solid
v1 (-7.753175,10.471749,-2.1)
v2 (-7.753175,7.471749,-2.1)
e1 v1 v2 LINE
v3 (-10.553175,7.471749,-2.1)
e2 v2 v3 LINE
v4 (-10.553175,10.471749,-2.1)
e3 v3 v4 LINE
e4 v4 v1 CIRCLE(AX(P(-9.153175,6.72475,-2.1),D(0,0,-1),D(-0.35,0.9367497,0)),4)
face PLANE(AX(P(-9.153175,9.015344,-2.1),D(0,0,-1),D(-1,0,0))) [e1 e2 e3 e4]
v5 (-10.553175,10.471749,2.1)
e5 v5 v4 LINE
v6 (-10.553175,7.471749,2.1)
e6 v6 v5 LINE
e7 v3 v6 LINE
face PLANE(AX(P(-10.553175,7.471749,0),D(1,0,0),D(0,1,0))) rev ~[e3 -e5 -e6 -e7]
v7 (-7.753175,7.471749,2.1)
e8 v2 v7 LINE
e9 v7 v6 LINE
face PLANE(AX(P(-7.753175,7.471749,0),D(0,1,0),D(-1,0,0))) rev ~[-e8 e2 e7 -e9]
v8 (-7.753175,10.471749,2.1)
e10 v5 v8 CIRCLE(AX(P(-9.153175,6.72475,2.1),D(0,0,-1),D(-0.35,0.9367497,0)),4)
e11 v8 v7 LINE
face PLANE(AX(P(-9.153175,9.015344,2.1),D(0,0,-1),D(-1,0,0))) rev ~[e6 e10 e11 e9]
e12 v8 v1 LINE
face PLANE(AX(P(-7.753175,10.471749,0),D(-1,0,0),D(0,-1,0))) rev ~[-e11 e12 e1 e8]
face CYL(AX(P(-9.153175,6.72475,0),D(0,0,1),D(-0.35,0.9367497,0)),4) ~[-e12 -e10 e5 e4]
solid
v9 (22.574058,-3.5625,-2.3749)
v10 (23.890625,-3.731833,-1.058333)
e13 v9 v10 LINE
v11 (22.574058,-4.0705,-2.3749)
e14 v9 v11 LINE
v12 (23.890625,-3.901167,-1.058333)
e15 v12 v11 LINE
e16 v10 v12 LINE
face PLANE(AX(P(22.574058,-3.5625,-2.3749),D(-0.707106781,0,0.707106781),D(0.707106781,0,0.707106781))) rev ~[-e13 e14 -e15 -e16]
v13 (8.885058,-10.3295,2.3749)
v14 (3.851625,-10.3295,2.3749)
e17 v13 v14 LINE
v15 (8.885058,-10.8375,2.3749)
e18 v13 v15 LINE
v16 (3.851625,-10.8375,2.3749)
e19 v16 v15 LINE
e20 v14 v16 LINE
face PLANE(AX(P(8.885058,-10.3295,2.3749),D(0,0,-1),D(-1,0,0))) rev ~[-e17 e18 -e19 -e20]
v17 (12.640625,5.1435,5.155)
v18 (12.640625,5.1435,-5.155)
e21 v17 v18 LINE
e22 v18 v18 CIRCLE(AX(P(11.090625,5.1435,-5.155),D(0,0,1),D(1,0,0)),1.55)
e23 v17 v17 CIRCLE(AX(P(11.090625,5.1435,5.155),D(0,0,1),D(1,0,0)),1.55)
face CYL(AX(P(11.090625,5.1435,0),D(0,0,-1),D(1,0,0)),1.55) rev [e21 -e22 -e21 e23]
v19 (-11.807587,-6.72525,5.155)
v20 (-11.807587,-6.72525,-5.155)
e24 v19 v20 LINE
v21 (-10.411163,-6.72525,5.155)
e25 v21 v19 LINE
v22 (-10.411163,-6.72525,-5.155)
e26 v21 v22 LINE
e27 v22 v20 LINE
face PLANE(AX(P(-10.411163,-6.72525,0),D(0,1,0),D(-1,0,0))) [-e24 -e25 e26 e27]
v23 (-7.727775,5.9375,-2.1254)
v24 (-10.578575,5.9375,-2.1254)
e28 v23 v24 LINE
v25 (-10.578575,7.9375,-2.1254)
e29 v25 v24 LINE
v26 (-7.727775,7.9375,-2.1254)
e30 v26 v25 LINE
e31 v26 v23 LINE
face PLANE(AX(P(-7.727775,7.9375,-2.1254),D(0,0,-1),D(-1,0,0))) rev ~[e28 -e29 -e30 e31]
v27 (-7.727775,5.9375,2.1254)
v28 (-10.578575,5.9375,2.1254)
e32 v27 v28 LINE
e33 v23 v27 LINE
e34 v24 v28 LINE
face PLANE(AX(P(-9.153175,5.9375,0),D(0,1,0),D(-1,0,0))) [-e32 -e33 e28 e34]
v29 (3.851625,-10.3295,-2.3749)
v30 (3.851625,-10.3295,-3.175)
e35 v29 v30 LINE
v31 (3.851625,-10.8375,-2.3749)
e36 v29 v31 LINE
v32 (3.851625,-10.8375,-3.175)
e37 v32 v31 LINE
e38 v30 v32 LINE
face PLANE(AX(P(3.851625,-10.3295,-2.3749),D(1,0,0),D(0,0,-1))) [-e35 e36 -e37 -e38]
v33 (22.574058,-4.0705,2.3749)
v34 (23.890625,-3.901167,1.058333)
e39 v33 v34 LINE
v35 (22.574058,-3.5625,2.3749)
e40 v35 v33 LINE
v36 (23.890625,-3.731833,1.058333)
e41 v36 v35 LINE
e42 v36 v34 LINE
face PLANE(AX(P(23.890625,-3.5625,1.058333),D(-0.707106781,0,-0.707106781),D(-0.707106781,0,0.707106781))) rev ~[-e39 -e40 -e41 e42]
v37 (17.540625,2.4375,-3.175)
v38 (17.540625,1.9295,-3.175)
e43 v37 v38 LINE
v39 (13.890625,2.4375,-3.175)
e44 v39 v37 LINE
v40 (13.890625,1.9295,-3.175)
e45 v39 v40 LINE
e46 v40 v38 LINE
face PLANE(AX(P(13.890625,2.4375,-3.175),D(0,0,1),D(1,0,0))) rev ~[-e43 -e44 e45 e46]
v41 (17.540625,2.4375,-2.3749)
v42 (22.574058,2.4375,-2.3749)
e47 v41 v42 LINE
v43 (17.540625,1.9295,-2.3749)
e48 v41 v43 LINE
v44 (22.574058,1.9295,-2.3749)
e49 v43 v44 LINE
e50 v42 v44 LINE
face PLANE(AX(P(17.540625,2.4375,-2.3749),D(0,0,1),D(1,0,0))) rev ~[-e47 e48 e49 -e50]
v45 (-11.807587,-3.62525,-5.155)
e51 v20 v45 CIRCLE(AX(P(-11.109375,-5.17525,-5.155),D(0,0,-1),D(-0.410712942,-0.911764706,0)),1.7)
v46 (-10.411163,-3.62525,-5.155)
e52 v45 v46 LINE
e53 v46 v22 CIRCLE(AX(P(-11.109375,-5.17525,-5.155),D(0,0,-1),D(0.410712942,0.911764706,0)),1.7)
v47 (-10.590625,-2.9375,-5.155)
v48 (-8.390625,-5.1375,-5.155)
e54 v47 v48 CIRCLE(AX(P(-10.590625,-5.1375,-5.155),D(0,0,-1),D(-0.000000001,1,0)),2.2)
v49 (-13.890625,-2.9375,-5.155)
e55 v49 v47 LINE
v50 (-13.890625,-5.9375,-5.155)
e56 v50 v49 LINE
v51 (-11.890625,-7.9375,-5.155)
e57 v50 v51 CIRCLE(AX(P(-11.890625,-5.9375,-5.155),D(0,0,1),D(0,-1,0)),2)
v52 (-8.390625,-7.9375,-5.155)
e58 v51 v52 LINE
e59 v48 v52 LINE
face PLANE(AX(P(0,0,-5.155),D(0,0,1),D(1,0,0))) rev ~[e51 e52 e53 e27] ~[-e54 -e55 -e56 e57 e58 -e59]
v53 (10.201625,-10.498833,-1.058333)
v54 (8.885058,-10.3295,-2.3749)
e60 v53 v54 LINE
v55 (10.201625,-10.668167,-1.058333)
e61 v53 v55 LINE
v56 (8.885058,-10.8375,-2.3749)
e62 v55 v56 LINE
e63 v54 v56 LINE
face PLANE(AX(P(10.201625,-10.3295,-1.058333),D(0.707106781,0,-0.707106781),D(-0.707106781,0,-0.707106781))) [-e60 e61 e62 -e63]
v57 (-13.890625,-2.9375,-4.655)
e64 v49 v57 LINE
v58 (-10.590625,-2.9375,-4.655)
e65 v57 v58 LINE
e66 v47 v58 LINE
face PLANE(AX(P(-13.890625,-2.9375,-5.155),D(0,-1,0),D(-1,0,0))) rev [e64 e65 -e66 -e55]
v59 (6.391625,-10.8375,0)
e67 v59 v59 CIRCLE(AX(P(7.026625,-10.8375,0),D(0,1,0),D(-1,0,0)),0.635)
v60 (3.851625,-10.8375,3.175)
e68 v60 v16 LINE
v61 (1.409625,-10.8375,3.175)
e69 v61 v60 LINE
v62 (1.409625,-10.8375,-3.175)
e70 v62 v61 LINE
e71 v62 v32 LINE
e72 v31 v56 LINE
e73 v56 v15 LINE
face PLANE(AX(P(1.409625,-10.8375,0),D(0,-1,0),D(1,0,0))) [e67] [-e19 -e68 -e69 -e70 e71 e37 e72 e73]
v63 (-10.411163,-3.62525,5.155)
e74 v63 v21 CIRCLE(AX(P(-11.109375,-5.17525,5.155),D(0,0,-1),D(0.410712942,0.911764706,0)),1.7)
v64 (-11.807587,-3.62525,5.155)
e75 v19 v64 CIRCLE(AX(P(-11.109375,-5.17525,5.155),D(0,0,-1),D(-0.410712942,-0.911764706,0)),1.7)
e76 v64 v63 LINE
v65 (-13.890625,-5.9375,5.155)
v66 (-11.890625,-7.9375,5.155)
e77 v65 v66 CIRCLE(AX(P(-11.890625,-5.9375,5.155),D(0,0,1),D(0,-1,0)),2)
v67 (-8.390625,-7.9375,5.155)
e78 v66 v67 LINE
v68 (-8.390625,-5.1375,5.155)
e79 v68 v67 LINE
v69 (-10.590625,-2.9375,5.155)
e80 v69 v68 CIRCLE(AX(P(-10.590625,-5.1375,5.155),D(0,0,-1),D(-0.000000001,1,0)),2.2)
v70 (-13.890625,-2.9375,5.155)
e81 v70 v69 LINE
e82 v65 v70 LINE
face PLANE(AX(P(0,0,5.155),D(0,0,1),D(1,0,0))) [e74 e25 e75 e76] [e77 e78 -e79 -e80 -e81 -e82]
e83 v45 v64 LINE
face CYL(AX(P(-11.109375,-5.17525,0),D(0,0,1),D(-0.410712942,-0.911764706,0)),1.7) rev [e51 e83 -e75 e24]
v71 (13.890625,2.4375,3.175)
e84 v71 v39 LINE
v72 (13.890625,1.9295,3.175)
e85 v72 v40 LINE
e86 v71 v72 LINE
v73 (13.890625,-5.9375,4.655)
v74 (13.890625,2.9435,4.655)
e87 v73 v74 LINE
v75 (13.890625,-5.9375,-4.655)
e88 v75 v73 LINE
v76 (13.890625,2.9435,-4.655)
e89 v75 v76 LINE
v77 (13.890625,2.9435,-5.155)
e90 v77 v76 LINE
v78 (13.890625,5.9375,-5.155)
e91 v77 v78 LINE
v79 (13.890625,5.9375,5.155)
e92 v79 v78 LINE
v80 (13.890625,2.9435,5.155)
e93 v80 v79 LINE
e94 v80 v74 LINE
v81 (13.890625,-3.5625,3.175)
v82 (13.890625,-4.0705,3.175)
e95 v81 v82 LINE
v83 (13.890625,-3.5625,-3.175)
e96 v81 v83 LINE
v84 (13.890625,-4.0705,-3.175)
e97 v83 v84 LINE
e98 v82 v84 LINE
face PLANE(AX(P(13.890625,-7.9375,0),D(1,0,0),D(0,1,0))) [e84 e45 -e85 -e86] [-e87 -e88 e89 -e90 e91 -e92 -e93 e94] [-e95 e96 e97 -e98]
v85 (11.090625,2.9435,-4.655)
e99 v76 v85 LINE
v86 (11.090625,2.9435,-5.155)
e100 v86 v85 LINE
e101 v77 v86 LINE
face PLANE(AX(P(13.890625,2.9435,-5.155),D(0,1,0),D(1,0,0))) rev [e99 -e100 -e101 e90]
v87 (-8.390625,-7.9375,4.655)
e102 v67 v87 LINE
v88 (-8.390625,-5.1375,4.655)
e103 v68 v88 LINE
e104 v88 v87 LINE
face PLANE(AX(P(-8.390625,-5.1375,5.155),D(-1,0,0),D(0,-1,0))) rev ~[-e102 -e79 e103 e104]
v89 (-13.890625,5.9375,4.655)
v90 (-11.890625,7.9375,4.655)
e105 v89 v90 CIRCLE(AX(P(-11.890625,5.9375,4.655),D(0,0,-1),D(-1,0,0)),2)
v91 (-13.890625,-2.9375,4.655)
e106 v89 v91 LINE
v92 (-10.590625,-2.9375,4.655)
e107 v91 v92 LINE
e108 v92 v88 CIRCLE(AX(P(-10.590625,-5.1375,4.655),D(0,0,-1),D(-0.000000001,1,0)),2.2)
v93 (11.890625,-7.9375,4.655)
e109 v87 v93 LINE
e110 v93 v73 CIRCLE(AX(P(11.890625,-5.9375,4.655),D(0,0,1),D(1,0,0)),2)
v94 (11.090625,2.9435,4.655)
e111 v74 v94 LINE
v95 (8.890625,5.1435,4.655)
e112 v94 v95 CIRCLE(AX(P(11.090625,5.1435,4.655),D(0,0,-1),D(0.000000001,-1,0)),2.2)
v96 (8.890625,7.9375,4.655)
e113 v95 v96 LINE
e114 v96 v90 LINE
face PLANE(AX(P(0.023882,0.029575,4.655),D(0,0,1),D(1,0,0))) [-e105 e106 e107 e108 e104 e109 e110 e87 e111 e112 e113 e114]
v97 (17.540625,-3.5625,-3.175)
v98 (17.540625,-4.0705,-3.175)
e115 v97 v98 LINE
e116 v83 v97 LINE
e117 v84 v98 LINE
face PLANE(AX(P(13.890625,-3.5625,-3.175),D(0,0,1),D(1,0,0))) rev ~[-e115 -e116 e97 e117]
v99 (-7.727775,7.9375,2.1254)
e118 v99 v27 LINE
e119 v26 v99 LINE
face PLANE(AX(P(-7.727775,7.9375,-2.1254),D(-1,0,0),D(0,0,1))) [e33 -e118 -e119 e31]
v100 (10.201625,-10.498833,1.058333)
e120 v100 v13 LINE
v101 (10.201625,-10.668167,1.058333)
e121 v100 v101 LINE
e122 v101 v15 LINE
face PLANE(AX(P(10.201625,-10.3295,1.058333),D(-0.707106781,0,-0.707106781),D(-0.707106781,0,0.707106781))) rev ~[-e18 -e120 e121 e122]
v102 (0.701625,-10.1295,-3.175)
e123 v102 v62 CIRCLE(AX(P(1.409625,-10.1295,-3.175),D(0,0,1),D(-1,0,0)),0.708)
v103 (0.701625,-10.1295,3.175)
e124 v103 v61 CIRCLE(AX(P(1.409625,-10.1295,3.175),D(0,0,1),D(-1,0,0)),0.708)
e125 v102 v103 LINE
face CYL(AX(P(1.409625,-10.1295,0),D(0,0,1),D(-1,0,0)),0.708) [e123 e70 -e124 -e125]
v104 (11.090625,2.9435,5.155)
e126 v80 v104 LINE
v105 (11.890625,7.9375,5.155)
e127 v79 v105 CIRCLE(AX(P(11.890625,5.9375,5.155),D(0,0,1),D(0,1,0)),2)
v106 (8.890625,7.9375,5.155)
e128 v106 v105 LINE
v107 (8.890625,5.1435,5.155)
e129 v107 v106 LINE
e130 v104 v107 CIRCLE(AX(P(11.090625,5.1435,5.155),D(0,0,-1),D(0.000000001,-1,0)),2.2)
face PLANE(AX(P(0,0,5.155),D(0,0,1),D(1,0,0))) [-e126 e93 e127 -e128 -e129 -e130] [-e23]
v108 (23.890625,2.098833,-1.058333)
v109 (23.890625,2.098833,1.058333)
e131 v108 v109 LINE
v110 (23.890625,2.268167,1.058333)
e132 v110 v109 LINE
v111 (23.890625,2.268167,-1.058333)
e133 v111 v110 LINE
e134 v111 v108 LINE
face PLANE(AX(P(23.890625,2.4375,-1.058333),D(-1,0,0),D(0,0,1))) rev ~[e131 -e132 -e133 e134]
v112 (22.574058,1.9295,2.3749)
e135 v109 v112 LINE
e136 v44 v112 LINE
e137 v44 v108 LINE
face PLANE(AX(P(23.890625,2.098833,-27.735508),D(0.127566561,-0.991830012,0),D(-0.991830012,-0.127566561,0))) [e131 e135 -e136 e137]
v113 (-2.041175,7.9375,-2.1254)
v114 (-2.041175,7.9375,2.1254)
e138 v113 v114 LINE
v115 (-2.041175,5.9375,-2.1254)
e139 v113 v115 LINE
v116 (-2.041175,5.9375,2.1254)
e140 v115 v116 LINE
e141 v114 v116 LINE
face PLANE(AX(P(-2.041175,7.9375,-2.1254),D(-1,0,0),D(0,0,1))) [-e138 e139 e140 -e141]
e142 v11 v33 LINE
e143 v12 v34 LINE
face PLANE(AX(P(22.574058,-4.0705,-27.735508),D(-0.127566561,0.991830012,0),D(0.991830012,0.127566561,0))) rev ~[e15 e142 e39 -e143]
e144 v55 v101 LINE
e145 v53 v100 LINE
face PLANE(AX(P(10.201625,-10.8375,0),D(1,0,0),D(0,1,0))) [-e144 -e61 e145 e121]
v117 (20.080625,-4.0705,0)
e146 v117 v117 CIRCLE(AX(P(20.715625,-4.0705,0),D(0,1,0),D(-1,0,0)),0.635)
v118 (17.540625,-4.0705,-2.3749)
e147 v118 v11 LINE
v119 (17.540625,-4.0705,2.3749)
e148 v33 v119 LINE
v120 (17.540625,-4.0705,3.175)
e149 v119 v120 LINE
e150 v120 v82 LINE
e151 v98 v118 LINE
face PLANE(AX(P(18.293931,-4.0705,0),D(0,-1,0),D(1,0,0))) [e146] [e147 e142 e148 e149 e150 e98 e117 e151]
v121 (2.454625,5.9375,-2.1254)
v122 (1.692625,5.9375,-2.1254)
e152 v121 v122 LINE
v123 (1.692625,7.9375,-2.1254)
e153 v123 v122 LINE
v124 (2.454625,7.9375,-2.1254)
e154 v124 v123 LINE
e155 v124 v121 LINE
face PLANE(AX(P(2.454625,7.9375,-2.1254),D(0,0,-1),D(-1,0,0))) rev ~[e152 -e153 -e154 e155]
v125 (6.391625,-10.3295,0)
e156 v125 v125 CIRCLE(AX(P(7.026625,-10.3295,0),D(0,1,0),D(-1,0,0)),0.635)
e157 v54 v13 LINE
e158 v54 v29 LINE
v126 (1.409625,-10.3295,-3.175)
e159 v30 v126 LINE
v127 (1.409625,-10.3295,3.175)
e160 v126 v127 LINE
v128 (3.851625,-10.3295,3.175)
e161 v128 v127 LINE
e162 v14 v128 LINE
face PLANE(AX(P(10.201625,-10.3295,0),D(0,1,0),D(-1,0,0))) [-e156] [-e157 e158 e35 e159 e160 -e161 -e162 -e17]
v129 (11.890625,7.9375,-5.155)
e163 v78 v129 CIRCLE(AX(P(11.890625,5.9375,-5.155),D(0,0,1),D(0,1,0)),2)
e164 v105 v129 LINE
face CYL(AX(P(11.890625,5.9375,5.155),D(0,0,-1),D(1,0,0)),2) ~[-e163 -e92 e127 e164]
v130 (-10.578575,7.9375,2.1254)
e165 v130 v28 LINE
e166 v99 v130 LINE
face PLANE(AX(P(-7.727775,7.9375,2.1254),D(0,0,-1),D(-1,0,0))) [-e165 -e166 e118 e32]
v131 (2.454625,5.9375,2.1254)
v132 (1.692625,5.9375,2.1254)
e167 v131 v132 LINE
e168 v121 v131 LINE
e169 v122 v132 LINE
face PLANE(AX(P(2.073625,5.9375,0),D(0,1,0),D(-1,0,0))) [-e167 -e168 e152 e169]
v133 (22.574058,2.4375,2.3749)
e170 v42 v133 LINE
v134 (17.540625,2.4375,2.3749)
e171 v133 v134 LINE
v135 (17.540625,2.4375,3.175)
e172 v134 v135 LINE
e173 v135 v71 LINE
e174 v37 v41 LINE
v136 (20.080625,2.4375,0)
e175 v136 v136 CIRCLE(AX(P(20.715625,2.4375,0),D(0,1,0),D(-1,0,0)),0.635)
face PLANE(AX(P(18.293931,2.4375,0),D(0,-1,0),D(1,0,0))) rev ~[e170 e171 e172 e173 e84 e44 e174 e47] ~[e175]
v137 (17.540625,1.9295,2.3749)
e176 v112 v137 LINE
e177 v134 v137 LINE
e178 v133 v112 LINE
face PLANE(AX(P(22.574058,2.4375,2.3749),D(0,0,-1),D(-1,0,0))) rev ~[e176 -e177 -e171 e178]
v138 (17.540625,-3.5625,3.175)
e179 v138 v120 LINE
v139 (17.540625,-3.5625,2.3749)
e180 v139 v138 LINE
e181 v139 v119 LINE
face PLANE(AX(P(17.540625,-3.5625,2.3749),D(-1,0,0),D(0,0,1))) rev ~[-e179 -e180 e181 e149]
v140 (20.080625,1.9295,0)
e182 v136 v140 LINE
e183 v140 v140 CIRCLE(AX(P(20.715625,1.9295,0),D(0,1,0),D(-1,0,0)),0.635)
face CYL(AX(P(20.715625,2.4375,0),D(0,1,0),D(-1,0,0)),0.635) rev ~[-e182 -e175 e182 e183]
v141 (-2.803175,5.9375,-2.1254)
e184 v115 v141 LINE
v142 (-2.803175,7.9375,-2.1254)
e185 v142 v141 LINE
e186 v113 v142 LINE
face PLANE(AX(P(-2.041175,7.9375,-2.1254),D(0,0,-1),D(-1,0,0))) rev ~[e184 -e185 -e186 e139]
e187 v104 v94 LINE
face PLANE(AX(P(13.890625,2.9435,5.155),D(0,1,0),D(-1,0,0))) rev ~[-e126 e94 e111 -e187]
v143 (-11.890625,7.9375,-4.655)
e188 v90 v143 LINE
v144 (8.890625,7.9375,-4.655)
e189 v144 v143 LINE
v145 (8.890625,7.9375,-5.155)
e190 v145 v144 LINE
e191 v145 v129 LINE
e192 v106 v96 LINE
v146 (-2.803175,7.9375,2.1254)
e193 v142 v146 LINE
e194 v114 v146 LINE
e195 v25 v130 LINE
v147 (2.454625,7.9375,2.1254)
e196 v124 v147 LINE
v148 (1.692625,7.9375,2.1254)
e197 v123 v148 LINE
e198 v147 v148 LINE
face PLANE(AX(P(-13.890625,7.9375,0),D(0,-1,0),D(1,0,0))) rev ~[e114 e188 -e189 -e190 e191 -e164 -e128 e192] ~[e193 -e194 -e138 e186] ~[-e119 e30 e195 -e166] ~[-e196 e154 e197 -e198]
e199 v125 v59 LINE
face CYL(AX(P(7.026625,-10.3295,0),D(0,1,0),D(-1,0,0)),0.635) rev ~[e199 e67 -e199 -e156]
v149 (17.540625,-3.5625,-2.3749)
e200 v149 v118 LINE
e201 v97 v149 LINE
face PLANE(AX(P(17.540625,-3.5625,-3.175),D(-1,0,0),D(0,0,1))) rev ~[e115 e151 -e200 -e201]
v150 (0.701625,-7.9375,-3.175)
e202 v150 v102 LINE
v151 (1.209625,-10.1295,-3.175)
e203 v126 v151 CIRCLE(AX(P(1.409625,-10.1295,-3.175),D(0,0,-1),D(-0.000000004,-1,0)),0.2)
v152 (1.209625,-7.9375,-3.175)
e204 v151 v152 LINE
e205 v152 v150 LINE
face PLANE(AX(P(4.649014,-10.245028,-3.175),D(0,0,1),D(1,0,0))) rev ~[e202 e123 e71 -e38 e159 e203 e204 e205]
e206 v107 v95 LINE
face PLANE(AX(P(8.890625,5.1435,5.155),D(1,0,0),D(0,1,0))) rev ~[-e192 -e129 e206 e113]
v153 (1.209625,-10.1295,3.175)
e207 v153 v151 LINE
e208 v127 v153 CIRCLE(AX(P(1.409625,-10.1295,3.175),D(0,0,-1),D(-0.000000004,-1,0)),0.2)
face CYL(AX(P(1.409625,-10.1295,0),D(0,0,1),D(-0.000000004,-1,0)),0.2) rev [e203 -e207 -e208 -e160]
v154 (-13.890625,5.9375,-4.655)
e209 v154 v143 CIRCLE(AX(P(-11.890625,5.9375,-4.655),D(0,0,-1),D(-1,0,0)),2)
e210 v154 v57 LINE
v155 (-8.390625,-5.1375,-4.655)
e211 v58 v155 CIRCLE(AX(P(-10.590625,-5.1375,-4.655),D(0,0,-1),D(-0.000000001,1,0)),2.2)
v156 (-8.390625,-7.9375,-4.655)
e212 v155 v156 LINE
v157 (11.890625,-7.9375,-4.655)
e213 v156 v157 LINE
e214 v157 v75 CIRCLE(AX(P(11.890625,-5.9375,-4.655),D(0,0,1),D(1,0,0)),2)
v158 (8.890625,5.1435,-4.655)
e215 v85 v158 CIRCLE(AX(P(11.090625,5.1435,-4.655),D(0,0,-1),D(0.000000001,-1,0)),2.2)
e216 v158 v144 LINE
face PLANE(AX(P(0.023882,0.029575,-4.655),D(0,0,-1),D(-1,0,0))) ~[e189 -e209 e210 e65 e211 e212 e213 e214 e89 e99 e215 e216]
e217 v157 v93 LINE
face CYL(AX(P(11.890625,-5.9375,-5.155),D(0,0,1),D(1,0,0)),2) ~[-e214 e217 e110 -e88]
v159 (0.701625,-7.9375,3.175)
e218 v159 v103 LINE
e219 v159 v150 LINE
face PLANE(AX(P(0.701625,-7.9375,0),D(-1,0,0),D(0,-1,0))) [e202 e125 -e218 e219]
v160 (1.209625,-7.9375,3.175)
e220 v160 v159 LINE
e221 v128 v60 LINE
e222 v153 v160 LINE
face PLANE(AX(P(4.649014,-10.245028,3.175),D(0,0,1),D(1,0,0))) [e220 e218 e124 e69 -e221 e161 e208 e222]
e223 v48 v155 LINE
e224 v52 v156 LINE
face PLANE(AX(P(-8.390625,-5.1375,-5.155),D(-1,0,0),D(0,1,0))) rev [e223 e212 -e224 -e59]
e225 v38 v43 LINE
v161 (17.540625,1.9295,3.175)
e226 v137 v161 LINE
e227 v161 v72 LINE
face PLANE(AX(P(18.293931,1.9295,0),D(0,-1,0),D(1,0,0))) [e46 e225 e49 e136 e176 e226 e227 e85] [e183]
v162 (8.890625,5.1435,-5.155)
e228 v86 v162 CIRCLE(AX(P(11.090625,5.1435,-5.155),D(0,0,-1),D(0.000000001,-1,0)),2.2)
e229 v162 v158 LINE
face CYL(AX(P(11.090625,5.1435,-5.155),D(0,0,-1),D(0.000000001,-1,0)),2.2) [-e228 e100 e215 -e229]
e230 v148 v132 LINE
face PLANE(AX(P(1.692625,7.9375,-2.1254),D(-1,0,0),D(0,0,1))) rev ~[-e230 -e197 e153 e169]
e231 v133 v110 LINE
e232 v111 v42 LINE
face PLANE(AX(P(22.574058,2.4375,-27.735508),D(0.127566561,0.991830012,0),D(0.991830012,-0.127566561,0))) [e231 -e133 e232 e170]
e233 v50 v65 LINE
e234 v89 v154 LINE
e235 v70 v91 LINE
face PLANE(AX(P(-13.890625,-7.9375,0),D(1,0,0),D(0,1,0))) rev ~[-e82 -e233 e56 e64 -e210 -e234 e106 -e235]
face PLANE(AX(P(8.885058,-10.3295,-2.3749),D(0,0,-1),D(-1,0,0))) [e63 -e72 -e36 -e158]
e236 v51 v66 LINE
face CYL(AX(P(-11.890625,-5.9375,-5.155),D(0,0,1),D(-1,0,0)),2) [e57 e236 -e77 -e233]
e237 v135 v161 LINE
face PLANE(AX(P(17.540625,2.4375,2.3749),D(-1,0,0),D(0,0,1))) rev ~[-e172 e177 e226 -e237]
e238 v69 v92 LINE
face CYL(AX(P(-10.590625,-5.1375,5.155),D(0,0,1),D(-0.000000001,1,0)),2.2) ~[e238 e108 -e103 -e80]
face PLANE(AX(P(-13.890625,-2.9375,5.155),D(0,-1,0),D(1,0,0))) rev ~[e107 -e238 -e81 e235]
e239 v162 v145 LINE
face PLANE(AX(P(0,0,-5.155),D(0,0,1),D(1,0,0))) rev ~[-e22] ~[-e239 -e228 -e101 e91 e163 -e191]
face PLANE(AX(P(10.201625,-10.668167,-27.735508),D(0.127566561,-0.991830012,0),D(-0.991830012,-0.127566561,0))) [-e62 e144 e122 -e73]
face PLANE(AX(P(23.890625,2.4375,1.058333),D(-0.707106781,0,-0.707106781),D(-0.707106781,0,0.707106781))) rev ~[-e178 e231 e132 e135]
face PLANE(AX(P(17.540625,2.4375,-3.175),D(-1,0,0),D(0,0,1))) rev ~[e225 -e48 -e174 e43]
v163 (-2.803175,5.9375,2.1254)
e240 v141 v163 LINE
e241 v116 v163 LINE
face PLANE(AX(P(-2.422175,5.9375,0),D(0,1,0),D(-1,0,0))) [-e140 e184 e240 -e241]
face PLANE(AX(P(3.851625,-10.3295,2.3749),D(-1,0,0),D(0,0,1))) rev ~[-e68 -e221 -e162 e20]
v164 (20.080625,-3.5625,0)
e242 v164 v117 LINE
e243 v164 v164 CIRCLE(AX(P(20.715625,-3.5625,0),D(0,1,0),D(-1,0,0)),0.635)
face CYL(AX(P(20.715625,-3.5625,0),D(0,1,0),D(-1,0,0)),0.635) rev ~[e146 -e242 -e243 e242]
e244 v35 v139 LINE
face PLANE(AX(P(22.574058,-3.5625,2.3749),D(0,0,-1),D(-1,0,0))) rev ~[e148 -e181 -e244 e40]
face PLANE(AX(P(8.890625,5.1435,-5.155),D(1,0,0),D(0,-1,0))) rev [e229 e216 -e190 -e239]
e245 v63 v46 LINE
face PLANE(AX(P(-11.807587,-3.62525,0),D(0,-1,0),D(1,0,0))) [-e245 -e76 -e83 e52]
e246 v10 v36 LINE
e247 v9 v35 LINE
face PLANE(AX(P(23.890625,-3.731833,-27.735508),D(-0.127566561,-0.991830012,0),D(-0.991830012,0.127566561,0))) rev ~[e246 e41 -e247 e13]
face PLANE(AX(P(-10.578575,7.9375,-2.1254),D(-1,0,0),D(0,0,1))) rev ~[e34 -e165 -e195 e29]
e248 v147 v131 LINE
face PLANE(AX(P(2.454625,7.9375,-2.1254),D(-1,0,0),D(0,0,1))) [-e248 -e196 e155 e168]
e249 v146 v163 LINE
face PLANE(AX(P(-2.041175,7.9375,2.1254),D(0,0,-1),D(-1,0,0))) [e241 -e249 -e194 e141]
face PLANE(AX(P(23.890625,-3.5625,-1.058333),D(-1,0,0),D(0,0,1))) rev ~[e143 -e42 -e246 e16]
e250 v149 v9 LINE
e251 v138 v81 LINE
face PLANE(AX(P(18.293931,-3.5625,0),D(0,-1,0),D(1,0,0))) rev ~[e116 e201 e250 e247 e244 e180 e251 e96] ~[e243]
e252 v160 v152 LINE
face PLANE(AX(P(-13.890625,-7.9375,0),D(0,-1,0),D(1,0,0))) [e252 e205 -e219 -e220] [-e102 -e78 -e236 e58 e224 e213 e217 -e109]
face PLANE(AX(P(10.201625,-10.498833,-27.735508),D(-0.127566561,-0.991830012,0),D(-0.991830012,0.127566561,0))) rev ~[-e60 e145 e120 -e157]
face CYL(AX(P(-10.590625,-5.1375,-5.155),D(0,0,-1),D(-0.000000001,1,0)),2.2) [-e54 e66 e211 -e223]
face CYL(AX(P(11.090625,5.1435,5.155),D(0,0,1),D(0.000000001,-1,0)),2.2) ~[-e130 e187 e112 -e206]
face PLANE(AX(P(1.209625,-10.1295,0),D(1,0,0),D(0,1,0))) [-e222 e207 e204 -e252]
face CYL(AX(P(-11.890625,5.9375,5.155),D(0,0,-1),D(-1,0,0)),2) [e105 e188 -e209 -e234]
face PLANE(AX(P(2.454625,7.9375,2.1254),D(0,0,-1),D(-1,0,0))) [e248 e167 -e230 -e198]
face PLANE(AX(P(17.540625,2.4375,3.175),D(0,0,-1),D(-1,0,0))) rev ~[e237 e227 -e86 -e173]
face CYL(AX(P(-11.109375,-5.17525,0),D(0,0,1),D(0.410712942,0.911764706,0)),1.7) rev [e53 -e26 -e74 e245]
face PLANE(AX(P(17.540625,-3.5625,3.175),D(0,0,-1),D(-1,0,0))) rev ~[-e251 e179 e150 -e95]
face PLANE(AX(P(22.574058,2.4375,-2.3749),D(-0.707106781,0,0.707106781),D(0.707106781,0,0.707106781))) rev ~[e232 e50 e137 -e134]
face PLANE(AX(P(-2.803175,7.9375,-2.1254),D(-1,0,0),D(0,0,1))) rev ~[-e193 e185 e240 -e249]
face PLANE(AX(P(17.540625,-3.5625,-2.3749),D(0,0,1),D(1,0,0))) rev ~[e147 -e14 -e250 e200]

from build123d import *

# Parameters (mm, degrees)
SKETCH1_W               = 27.78125
SKETCH1_H               = 15.875
SKETCH1_R               = 1.55
EXTRUDE1_DEPTH          = 5.155
FILLET1_R               = 2
EXTRUDE2_DEPTH          = 2.1
SKETCH3_W               = 2.8508
SKETCH3_H               = 4.2508
SKETCH3_W_2             = 0.762
CUT_EXTRUDE1_DEPTH      = 2
CUT_EXTRUDE2_DEPTH      = 0.5
EXTRUDE3_DEPTH          = 3.175
SKETCH6_R               = 0.635
CUT_EXTRUDE3_DEPTH      = 26.744998173
EXTRUDE4_START          = -5.5
SKETCH8_R               = 0.635
EXTRUDE4_DEPTH          = 0.508
LPATTERN1_COUNT         = 2
LPATTERN1_PITCH         = 6
CUT_EXTRUDE4_DEPTH      = 27.735508115
CUT_EXTRUDE4_DEPTH_BACK = 27.735508115


with BuildPart() as part:
    # Sketch1 → Extrude1 (new, symmetric)
    with BuildSketch(Plane.XY):
        Rectangle(SKETCH1_W, SKETCH1_H)
        with Locations((11.090625, 5.1435)):
            Circle(SKETCH1_R, mode=Mode.SUBTRACT)
        with BuildLine():
            Line((-11.807587002, -3.62525), (-10.411162998, -3.62525))
            ThreePointArc((-10.411162998, -3.62525), (-9.409375, -5.17525), (-10.411162998, -6.72525))
            Line((-10.411162998, -6.72525), (-11.807587002, -6.72525))
            ThreePointArc((-11.807587002, -6.72525), (-12.809375, -5.17525), (-11.807587002, -3.62525))
        make_face(mode=Mode.SUBTRACT)
    extrude(amount=EXTRUDE1_DEPTH, both=True)

    # Fillet1
    fillet1_edges = [part.edges().sort_by_distance(p)[0] for p in [
        (-13.890625, 7.9375, 0),
        (13.890625, 7.9375, 0),
        (13.890625, -7.9375, 0),
        (-13.890625, -7.9375, 0),
    ]]
    fillet(fillet1_edges, radius=FILLET1_R)

    # Sketch3 → Cut-Extrude1 (cut)
    with BuildSketch(Plane(origin=(0, 7.9375, 0), x_dir=(-1, 0, 0), z_dir=(0, 1, 0))):
        with Locations((9.153175, 0)):
            Rectangle(SKETCH3_W, SKETCH3_H)
        with Locations((2.422175, 0)):
            Rectangle(SKETCH3_W_2, SKETCH3_H)
        with Locations((-2.073625, 0)):
            Rectangle(SKETCH3_W_2, SKETCH3_H)
    extrude(amount=-CUT_EXTRUDE1_DEPTH, mode=Mode.SUBTRACT)

    # Sketch4 → Cut-Extrude2 (cut)
    with BuildSketch(Plane.XY.offset(5.155)):
        with BuildLine():
            Line((-8.390625, -7.9375), (13.890625, -7.9375))
            Line((13.890625, -7.9375), (13.890625, 2.9435))
            Line((13.890625, 2.9435), (11.090625, 2.9435))
            ThreePointArc((11.090625, 2.9435), (9.534990081, 3.587865081), (8.890625, 5.1435))
            Line((8.890625, 5.1435), (8.890625, 7.9375))
            Line((8.890625, 7.9375), (-13.890625, 7.9375))
            Line((-13.890625, 7.9375), (-13.890625, -2.9375))
            Line((-13.890625, -2.9375), (-10.590625, -2.9375))
            ThreePointArc((-10.590625, -2.9375), (-9.034990081, -3.581865081), (-8.390625, -5.1375))
            Line((-8.390625, -5.1375), (-8.390625, -7.9375))
        make_face()
    cut_extrude2 = extrude(amount=-CUT_EXTRUDE2_DEPTH, mode=Mode.SUBTRACT)

    # Mirror1: Cut-Extrude2 across plane
    add(cut_extrude2.mirror(Plane.XY), mode=Mode.SUBTRACT)

    # Sketch5 → Extrude3 (add, symmetric)
    with BuildSketch(Plane.XY):
        with BuildLine():
            Line((0.701625, -7.9375), (0.701625, -10.1295))
            ThreePointArc((0.701625, -10.1295), (0.908993399, -10.630131601), (1.409625, -10.8375))
            Line((1.409625, -10.8375), (10.201625, -10.8375))
            Line((10.201625, -10.8375), (10.201625, -10.3295))
            Line((10.201625, -10.3295), (1.409625, -10.3295))
            ThreePointArc((1.409625, -10.3295), (1.268203644, -10.270921356), (1.209625, -10.1295))
            Line((1.209625, -10.1295), (1.209625, -7.9375))
            Line((1.209625, -7.9375), (0.701625, -7.9375))
        make_face()
    extrude(amount=EXTRUDE3_DEPTH, both=True)

    # Sketch6 → Cut-Extrude3 (cut, through all)
    with BuildSketch(Plane(origin=(0, -10.3295, 0), x_dir=(-1, 0, 0), z_dir=(0, 1, 0))):
        with Locations((-7.026625, 0)):
            Circle(SKETCH6_R)
        Polygon((-10.201625, 1.058333333), (-8.885058333, 2.3749), (-3.851625, 2.3749), (-3.851625, 3.175), (-10.201625, 3.175), align=None)
        Polygon((-10.201625, -3.175), (-10.201625, -1.058333333), (-8.885058333, -2.3749), (-3.851625, -2.3749), (-3.851625, -3.175), align=None)
    extrude(amount=-CUT_EXTRUDE3_DEPTH, mode=Mode.SUBTRACT)

    # Sketch8 → Extrude4 (add)
    with BuildSketch(Plane(origin=(0, 7.9375, 0), x_dir=(-1, 0, 0), z_dir=(0, 1, 0)).offset(EXTRUDE4_START)):
        Polygon((-13.890625, -3.175), (-17.540625, -3.175), (-17.540625, -2.3749), (-22.574058333, -2.3749), (-23.890625, -1.058333333), (-23.890625, 1.058333333), (-22.574058333, 2.3749), (-17.540625, 2.3749), (-17.540625, 3.175), (-13.890625, 3.175), align=None)
        with Locations((-20.715625, 0)):
            Circle(SKETCH8_R, mode=Mode.SUBTRACT)
    extrude4 = extrude(amount=-EXTRUDE4_DEPTH)

    # LPattern1: Extrude4 ×2
    with Locations(*[(0, -i * LPATTERN1_PITCH, 0) for i in range(1, LPATTERN1_COUNT)]):
        add(extrude4)

    # Sketch7 → Cut-Extrude4 (cut, two sides: drawn at the far end of the back side and taken through both)
    with BuildSketch(Plane.XY.offset(-CUT_EXTRUDE4_DEPTH_BACK)):
        Polygon((8.885058333, -10.3295), (10.201625, -10.3295), (10.201625, -10.498833333), align=None)
        Polygon((8.885058333, -10.8375), (10.201625, -10.8375), (10.201625, -10.668166667), align=None)
        Polygon((22.574058333, 2.4375), (23.890625, 2.268166667), (23.890625, 2.4375), align=None)
        Polygon((22.574058333, 1.9295), (23.890625, 1.9295), (23.890625, 2.098833333), align=None)
        Polygon((23.890625, -3.5625), (23.890625, -3.731833333), (22.574058333, -3.5625), align=None)
        Polygon((23.890625, -3.901166667), (23.890625, -4.0705), (22.574058333, -4.0705), align=None)
    extrude(amount=CUT_EXTRUDE4_DEPTH + CUT_EXTRUDE4_DEPTH_BACK, mode=Mode.SUBTRACT)


with BuildPart() as body_2:
    # Sketch2 → Extrude2 (new, symmetric)
    with BuildSketch(Plane.XY):
        with BuildLine():
            Line((-10.553175, 7.471748799), (-10.553175, 10.471748799))
            ThreePointArc((-10.553175, 10.471748799), (-9.153175, 10.72475), (-7.753175, 10.471748799))
            Line((-7.753175, 10.471748799), (-7.753175, 7.471748799))
            Line((-7.753175, 7.471748799), (-10.553175, 7.471748799))
        make_face()
    extrude(amount=EXTRUDE2_DEPTH, both=True)


solid = Compound([part.part, body_2.part])
